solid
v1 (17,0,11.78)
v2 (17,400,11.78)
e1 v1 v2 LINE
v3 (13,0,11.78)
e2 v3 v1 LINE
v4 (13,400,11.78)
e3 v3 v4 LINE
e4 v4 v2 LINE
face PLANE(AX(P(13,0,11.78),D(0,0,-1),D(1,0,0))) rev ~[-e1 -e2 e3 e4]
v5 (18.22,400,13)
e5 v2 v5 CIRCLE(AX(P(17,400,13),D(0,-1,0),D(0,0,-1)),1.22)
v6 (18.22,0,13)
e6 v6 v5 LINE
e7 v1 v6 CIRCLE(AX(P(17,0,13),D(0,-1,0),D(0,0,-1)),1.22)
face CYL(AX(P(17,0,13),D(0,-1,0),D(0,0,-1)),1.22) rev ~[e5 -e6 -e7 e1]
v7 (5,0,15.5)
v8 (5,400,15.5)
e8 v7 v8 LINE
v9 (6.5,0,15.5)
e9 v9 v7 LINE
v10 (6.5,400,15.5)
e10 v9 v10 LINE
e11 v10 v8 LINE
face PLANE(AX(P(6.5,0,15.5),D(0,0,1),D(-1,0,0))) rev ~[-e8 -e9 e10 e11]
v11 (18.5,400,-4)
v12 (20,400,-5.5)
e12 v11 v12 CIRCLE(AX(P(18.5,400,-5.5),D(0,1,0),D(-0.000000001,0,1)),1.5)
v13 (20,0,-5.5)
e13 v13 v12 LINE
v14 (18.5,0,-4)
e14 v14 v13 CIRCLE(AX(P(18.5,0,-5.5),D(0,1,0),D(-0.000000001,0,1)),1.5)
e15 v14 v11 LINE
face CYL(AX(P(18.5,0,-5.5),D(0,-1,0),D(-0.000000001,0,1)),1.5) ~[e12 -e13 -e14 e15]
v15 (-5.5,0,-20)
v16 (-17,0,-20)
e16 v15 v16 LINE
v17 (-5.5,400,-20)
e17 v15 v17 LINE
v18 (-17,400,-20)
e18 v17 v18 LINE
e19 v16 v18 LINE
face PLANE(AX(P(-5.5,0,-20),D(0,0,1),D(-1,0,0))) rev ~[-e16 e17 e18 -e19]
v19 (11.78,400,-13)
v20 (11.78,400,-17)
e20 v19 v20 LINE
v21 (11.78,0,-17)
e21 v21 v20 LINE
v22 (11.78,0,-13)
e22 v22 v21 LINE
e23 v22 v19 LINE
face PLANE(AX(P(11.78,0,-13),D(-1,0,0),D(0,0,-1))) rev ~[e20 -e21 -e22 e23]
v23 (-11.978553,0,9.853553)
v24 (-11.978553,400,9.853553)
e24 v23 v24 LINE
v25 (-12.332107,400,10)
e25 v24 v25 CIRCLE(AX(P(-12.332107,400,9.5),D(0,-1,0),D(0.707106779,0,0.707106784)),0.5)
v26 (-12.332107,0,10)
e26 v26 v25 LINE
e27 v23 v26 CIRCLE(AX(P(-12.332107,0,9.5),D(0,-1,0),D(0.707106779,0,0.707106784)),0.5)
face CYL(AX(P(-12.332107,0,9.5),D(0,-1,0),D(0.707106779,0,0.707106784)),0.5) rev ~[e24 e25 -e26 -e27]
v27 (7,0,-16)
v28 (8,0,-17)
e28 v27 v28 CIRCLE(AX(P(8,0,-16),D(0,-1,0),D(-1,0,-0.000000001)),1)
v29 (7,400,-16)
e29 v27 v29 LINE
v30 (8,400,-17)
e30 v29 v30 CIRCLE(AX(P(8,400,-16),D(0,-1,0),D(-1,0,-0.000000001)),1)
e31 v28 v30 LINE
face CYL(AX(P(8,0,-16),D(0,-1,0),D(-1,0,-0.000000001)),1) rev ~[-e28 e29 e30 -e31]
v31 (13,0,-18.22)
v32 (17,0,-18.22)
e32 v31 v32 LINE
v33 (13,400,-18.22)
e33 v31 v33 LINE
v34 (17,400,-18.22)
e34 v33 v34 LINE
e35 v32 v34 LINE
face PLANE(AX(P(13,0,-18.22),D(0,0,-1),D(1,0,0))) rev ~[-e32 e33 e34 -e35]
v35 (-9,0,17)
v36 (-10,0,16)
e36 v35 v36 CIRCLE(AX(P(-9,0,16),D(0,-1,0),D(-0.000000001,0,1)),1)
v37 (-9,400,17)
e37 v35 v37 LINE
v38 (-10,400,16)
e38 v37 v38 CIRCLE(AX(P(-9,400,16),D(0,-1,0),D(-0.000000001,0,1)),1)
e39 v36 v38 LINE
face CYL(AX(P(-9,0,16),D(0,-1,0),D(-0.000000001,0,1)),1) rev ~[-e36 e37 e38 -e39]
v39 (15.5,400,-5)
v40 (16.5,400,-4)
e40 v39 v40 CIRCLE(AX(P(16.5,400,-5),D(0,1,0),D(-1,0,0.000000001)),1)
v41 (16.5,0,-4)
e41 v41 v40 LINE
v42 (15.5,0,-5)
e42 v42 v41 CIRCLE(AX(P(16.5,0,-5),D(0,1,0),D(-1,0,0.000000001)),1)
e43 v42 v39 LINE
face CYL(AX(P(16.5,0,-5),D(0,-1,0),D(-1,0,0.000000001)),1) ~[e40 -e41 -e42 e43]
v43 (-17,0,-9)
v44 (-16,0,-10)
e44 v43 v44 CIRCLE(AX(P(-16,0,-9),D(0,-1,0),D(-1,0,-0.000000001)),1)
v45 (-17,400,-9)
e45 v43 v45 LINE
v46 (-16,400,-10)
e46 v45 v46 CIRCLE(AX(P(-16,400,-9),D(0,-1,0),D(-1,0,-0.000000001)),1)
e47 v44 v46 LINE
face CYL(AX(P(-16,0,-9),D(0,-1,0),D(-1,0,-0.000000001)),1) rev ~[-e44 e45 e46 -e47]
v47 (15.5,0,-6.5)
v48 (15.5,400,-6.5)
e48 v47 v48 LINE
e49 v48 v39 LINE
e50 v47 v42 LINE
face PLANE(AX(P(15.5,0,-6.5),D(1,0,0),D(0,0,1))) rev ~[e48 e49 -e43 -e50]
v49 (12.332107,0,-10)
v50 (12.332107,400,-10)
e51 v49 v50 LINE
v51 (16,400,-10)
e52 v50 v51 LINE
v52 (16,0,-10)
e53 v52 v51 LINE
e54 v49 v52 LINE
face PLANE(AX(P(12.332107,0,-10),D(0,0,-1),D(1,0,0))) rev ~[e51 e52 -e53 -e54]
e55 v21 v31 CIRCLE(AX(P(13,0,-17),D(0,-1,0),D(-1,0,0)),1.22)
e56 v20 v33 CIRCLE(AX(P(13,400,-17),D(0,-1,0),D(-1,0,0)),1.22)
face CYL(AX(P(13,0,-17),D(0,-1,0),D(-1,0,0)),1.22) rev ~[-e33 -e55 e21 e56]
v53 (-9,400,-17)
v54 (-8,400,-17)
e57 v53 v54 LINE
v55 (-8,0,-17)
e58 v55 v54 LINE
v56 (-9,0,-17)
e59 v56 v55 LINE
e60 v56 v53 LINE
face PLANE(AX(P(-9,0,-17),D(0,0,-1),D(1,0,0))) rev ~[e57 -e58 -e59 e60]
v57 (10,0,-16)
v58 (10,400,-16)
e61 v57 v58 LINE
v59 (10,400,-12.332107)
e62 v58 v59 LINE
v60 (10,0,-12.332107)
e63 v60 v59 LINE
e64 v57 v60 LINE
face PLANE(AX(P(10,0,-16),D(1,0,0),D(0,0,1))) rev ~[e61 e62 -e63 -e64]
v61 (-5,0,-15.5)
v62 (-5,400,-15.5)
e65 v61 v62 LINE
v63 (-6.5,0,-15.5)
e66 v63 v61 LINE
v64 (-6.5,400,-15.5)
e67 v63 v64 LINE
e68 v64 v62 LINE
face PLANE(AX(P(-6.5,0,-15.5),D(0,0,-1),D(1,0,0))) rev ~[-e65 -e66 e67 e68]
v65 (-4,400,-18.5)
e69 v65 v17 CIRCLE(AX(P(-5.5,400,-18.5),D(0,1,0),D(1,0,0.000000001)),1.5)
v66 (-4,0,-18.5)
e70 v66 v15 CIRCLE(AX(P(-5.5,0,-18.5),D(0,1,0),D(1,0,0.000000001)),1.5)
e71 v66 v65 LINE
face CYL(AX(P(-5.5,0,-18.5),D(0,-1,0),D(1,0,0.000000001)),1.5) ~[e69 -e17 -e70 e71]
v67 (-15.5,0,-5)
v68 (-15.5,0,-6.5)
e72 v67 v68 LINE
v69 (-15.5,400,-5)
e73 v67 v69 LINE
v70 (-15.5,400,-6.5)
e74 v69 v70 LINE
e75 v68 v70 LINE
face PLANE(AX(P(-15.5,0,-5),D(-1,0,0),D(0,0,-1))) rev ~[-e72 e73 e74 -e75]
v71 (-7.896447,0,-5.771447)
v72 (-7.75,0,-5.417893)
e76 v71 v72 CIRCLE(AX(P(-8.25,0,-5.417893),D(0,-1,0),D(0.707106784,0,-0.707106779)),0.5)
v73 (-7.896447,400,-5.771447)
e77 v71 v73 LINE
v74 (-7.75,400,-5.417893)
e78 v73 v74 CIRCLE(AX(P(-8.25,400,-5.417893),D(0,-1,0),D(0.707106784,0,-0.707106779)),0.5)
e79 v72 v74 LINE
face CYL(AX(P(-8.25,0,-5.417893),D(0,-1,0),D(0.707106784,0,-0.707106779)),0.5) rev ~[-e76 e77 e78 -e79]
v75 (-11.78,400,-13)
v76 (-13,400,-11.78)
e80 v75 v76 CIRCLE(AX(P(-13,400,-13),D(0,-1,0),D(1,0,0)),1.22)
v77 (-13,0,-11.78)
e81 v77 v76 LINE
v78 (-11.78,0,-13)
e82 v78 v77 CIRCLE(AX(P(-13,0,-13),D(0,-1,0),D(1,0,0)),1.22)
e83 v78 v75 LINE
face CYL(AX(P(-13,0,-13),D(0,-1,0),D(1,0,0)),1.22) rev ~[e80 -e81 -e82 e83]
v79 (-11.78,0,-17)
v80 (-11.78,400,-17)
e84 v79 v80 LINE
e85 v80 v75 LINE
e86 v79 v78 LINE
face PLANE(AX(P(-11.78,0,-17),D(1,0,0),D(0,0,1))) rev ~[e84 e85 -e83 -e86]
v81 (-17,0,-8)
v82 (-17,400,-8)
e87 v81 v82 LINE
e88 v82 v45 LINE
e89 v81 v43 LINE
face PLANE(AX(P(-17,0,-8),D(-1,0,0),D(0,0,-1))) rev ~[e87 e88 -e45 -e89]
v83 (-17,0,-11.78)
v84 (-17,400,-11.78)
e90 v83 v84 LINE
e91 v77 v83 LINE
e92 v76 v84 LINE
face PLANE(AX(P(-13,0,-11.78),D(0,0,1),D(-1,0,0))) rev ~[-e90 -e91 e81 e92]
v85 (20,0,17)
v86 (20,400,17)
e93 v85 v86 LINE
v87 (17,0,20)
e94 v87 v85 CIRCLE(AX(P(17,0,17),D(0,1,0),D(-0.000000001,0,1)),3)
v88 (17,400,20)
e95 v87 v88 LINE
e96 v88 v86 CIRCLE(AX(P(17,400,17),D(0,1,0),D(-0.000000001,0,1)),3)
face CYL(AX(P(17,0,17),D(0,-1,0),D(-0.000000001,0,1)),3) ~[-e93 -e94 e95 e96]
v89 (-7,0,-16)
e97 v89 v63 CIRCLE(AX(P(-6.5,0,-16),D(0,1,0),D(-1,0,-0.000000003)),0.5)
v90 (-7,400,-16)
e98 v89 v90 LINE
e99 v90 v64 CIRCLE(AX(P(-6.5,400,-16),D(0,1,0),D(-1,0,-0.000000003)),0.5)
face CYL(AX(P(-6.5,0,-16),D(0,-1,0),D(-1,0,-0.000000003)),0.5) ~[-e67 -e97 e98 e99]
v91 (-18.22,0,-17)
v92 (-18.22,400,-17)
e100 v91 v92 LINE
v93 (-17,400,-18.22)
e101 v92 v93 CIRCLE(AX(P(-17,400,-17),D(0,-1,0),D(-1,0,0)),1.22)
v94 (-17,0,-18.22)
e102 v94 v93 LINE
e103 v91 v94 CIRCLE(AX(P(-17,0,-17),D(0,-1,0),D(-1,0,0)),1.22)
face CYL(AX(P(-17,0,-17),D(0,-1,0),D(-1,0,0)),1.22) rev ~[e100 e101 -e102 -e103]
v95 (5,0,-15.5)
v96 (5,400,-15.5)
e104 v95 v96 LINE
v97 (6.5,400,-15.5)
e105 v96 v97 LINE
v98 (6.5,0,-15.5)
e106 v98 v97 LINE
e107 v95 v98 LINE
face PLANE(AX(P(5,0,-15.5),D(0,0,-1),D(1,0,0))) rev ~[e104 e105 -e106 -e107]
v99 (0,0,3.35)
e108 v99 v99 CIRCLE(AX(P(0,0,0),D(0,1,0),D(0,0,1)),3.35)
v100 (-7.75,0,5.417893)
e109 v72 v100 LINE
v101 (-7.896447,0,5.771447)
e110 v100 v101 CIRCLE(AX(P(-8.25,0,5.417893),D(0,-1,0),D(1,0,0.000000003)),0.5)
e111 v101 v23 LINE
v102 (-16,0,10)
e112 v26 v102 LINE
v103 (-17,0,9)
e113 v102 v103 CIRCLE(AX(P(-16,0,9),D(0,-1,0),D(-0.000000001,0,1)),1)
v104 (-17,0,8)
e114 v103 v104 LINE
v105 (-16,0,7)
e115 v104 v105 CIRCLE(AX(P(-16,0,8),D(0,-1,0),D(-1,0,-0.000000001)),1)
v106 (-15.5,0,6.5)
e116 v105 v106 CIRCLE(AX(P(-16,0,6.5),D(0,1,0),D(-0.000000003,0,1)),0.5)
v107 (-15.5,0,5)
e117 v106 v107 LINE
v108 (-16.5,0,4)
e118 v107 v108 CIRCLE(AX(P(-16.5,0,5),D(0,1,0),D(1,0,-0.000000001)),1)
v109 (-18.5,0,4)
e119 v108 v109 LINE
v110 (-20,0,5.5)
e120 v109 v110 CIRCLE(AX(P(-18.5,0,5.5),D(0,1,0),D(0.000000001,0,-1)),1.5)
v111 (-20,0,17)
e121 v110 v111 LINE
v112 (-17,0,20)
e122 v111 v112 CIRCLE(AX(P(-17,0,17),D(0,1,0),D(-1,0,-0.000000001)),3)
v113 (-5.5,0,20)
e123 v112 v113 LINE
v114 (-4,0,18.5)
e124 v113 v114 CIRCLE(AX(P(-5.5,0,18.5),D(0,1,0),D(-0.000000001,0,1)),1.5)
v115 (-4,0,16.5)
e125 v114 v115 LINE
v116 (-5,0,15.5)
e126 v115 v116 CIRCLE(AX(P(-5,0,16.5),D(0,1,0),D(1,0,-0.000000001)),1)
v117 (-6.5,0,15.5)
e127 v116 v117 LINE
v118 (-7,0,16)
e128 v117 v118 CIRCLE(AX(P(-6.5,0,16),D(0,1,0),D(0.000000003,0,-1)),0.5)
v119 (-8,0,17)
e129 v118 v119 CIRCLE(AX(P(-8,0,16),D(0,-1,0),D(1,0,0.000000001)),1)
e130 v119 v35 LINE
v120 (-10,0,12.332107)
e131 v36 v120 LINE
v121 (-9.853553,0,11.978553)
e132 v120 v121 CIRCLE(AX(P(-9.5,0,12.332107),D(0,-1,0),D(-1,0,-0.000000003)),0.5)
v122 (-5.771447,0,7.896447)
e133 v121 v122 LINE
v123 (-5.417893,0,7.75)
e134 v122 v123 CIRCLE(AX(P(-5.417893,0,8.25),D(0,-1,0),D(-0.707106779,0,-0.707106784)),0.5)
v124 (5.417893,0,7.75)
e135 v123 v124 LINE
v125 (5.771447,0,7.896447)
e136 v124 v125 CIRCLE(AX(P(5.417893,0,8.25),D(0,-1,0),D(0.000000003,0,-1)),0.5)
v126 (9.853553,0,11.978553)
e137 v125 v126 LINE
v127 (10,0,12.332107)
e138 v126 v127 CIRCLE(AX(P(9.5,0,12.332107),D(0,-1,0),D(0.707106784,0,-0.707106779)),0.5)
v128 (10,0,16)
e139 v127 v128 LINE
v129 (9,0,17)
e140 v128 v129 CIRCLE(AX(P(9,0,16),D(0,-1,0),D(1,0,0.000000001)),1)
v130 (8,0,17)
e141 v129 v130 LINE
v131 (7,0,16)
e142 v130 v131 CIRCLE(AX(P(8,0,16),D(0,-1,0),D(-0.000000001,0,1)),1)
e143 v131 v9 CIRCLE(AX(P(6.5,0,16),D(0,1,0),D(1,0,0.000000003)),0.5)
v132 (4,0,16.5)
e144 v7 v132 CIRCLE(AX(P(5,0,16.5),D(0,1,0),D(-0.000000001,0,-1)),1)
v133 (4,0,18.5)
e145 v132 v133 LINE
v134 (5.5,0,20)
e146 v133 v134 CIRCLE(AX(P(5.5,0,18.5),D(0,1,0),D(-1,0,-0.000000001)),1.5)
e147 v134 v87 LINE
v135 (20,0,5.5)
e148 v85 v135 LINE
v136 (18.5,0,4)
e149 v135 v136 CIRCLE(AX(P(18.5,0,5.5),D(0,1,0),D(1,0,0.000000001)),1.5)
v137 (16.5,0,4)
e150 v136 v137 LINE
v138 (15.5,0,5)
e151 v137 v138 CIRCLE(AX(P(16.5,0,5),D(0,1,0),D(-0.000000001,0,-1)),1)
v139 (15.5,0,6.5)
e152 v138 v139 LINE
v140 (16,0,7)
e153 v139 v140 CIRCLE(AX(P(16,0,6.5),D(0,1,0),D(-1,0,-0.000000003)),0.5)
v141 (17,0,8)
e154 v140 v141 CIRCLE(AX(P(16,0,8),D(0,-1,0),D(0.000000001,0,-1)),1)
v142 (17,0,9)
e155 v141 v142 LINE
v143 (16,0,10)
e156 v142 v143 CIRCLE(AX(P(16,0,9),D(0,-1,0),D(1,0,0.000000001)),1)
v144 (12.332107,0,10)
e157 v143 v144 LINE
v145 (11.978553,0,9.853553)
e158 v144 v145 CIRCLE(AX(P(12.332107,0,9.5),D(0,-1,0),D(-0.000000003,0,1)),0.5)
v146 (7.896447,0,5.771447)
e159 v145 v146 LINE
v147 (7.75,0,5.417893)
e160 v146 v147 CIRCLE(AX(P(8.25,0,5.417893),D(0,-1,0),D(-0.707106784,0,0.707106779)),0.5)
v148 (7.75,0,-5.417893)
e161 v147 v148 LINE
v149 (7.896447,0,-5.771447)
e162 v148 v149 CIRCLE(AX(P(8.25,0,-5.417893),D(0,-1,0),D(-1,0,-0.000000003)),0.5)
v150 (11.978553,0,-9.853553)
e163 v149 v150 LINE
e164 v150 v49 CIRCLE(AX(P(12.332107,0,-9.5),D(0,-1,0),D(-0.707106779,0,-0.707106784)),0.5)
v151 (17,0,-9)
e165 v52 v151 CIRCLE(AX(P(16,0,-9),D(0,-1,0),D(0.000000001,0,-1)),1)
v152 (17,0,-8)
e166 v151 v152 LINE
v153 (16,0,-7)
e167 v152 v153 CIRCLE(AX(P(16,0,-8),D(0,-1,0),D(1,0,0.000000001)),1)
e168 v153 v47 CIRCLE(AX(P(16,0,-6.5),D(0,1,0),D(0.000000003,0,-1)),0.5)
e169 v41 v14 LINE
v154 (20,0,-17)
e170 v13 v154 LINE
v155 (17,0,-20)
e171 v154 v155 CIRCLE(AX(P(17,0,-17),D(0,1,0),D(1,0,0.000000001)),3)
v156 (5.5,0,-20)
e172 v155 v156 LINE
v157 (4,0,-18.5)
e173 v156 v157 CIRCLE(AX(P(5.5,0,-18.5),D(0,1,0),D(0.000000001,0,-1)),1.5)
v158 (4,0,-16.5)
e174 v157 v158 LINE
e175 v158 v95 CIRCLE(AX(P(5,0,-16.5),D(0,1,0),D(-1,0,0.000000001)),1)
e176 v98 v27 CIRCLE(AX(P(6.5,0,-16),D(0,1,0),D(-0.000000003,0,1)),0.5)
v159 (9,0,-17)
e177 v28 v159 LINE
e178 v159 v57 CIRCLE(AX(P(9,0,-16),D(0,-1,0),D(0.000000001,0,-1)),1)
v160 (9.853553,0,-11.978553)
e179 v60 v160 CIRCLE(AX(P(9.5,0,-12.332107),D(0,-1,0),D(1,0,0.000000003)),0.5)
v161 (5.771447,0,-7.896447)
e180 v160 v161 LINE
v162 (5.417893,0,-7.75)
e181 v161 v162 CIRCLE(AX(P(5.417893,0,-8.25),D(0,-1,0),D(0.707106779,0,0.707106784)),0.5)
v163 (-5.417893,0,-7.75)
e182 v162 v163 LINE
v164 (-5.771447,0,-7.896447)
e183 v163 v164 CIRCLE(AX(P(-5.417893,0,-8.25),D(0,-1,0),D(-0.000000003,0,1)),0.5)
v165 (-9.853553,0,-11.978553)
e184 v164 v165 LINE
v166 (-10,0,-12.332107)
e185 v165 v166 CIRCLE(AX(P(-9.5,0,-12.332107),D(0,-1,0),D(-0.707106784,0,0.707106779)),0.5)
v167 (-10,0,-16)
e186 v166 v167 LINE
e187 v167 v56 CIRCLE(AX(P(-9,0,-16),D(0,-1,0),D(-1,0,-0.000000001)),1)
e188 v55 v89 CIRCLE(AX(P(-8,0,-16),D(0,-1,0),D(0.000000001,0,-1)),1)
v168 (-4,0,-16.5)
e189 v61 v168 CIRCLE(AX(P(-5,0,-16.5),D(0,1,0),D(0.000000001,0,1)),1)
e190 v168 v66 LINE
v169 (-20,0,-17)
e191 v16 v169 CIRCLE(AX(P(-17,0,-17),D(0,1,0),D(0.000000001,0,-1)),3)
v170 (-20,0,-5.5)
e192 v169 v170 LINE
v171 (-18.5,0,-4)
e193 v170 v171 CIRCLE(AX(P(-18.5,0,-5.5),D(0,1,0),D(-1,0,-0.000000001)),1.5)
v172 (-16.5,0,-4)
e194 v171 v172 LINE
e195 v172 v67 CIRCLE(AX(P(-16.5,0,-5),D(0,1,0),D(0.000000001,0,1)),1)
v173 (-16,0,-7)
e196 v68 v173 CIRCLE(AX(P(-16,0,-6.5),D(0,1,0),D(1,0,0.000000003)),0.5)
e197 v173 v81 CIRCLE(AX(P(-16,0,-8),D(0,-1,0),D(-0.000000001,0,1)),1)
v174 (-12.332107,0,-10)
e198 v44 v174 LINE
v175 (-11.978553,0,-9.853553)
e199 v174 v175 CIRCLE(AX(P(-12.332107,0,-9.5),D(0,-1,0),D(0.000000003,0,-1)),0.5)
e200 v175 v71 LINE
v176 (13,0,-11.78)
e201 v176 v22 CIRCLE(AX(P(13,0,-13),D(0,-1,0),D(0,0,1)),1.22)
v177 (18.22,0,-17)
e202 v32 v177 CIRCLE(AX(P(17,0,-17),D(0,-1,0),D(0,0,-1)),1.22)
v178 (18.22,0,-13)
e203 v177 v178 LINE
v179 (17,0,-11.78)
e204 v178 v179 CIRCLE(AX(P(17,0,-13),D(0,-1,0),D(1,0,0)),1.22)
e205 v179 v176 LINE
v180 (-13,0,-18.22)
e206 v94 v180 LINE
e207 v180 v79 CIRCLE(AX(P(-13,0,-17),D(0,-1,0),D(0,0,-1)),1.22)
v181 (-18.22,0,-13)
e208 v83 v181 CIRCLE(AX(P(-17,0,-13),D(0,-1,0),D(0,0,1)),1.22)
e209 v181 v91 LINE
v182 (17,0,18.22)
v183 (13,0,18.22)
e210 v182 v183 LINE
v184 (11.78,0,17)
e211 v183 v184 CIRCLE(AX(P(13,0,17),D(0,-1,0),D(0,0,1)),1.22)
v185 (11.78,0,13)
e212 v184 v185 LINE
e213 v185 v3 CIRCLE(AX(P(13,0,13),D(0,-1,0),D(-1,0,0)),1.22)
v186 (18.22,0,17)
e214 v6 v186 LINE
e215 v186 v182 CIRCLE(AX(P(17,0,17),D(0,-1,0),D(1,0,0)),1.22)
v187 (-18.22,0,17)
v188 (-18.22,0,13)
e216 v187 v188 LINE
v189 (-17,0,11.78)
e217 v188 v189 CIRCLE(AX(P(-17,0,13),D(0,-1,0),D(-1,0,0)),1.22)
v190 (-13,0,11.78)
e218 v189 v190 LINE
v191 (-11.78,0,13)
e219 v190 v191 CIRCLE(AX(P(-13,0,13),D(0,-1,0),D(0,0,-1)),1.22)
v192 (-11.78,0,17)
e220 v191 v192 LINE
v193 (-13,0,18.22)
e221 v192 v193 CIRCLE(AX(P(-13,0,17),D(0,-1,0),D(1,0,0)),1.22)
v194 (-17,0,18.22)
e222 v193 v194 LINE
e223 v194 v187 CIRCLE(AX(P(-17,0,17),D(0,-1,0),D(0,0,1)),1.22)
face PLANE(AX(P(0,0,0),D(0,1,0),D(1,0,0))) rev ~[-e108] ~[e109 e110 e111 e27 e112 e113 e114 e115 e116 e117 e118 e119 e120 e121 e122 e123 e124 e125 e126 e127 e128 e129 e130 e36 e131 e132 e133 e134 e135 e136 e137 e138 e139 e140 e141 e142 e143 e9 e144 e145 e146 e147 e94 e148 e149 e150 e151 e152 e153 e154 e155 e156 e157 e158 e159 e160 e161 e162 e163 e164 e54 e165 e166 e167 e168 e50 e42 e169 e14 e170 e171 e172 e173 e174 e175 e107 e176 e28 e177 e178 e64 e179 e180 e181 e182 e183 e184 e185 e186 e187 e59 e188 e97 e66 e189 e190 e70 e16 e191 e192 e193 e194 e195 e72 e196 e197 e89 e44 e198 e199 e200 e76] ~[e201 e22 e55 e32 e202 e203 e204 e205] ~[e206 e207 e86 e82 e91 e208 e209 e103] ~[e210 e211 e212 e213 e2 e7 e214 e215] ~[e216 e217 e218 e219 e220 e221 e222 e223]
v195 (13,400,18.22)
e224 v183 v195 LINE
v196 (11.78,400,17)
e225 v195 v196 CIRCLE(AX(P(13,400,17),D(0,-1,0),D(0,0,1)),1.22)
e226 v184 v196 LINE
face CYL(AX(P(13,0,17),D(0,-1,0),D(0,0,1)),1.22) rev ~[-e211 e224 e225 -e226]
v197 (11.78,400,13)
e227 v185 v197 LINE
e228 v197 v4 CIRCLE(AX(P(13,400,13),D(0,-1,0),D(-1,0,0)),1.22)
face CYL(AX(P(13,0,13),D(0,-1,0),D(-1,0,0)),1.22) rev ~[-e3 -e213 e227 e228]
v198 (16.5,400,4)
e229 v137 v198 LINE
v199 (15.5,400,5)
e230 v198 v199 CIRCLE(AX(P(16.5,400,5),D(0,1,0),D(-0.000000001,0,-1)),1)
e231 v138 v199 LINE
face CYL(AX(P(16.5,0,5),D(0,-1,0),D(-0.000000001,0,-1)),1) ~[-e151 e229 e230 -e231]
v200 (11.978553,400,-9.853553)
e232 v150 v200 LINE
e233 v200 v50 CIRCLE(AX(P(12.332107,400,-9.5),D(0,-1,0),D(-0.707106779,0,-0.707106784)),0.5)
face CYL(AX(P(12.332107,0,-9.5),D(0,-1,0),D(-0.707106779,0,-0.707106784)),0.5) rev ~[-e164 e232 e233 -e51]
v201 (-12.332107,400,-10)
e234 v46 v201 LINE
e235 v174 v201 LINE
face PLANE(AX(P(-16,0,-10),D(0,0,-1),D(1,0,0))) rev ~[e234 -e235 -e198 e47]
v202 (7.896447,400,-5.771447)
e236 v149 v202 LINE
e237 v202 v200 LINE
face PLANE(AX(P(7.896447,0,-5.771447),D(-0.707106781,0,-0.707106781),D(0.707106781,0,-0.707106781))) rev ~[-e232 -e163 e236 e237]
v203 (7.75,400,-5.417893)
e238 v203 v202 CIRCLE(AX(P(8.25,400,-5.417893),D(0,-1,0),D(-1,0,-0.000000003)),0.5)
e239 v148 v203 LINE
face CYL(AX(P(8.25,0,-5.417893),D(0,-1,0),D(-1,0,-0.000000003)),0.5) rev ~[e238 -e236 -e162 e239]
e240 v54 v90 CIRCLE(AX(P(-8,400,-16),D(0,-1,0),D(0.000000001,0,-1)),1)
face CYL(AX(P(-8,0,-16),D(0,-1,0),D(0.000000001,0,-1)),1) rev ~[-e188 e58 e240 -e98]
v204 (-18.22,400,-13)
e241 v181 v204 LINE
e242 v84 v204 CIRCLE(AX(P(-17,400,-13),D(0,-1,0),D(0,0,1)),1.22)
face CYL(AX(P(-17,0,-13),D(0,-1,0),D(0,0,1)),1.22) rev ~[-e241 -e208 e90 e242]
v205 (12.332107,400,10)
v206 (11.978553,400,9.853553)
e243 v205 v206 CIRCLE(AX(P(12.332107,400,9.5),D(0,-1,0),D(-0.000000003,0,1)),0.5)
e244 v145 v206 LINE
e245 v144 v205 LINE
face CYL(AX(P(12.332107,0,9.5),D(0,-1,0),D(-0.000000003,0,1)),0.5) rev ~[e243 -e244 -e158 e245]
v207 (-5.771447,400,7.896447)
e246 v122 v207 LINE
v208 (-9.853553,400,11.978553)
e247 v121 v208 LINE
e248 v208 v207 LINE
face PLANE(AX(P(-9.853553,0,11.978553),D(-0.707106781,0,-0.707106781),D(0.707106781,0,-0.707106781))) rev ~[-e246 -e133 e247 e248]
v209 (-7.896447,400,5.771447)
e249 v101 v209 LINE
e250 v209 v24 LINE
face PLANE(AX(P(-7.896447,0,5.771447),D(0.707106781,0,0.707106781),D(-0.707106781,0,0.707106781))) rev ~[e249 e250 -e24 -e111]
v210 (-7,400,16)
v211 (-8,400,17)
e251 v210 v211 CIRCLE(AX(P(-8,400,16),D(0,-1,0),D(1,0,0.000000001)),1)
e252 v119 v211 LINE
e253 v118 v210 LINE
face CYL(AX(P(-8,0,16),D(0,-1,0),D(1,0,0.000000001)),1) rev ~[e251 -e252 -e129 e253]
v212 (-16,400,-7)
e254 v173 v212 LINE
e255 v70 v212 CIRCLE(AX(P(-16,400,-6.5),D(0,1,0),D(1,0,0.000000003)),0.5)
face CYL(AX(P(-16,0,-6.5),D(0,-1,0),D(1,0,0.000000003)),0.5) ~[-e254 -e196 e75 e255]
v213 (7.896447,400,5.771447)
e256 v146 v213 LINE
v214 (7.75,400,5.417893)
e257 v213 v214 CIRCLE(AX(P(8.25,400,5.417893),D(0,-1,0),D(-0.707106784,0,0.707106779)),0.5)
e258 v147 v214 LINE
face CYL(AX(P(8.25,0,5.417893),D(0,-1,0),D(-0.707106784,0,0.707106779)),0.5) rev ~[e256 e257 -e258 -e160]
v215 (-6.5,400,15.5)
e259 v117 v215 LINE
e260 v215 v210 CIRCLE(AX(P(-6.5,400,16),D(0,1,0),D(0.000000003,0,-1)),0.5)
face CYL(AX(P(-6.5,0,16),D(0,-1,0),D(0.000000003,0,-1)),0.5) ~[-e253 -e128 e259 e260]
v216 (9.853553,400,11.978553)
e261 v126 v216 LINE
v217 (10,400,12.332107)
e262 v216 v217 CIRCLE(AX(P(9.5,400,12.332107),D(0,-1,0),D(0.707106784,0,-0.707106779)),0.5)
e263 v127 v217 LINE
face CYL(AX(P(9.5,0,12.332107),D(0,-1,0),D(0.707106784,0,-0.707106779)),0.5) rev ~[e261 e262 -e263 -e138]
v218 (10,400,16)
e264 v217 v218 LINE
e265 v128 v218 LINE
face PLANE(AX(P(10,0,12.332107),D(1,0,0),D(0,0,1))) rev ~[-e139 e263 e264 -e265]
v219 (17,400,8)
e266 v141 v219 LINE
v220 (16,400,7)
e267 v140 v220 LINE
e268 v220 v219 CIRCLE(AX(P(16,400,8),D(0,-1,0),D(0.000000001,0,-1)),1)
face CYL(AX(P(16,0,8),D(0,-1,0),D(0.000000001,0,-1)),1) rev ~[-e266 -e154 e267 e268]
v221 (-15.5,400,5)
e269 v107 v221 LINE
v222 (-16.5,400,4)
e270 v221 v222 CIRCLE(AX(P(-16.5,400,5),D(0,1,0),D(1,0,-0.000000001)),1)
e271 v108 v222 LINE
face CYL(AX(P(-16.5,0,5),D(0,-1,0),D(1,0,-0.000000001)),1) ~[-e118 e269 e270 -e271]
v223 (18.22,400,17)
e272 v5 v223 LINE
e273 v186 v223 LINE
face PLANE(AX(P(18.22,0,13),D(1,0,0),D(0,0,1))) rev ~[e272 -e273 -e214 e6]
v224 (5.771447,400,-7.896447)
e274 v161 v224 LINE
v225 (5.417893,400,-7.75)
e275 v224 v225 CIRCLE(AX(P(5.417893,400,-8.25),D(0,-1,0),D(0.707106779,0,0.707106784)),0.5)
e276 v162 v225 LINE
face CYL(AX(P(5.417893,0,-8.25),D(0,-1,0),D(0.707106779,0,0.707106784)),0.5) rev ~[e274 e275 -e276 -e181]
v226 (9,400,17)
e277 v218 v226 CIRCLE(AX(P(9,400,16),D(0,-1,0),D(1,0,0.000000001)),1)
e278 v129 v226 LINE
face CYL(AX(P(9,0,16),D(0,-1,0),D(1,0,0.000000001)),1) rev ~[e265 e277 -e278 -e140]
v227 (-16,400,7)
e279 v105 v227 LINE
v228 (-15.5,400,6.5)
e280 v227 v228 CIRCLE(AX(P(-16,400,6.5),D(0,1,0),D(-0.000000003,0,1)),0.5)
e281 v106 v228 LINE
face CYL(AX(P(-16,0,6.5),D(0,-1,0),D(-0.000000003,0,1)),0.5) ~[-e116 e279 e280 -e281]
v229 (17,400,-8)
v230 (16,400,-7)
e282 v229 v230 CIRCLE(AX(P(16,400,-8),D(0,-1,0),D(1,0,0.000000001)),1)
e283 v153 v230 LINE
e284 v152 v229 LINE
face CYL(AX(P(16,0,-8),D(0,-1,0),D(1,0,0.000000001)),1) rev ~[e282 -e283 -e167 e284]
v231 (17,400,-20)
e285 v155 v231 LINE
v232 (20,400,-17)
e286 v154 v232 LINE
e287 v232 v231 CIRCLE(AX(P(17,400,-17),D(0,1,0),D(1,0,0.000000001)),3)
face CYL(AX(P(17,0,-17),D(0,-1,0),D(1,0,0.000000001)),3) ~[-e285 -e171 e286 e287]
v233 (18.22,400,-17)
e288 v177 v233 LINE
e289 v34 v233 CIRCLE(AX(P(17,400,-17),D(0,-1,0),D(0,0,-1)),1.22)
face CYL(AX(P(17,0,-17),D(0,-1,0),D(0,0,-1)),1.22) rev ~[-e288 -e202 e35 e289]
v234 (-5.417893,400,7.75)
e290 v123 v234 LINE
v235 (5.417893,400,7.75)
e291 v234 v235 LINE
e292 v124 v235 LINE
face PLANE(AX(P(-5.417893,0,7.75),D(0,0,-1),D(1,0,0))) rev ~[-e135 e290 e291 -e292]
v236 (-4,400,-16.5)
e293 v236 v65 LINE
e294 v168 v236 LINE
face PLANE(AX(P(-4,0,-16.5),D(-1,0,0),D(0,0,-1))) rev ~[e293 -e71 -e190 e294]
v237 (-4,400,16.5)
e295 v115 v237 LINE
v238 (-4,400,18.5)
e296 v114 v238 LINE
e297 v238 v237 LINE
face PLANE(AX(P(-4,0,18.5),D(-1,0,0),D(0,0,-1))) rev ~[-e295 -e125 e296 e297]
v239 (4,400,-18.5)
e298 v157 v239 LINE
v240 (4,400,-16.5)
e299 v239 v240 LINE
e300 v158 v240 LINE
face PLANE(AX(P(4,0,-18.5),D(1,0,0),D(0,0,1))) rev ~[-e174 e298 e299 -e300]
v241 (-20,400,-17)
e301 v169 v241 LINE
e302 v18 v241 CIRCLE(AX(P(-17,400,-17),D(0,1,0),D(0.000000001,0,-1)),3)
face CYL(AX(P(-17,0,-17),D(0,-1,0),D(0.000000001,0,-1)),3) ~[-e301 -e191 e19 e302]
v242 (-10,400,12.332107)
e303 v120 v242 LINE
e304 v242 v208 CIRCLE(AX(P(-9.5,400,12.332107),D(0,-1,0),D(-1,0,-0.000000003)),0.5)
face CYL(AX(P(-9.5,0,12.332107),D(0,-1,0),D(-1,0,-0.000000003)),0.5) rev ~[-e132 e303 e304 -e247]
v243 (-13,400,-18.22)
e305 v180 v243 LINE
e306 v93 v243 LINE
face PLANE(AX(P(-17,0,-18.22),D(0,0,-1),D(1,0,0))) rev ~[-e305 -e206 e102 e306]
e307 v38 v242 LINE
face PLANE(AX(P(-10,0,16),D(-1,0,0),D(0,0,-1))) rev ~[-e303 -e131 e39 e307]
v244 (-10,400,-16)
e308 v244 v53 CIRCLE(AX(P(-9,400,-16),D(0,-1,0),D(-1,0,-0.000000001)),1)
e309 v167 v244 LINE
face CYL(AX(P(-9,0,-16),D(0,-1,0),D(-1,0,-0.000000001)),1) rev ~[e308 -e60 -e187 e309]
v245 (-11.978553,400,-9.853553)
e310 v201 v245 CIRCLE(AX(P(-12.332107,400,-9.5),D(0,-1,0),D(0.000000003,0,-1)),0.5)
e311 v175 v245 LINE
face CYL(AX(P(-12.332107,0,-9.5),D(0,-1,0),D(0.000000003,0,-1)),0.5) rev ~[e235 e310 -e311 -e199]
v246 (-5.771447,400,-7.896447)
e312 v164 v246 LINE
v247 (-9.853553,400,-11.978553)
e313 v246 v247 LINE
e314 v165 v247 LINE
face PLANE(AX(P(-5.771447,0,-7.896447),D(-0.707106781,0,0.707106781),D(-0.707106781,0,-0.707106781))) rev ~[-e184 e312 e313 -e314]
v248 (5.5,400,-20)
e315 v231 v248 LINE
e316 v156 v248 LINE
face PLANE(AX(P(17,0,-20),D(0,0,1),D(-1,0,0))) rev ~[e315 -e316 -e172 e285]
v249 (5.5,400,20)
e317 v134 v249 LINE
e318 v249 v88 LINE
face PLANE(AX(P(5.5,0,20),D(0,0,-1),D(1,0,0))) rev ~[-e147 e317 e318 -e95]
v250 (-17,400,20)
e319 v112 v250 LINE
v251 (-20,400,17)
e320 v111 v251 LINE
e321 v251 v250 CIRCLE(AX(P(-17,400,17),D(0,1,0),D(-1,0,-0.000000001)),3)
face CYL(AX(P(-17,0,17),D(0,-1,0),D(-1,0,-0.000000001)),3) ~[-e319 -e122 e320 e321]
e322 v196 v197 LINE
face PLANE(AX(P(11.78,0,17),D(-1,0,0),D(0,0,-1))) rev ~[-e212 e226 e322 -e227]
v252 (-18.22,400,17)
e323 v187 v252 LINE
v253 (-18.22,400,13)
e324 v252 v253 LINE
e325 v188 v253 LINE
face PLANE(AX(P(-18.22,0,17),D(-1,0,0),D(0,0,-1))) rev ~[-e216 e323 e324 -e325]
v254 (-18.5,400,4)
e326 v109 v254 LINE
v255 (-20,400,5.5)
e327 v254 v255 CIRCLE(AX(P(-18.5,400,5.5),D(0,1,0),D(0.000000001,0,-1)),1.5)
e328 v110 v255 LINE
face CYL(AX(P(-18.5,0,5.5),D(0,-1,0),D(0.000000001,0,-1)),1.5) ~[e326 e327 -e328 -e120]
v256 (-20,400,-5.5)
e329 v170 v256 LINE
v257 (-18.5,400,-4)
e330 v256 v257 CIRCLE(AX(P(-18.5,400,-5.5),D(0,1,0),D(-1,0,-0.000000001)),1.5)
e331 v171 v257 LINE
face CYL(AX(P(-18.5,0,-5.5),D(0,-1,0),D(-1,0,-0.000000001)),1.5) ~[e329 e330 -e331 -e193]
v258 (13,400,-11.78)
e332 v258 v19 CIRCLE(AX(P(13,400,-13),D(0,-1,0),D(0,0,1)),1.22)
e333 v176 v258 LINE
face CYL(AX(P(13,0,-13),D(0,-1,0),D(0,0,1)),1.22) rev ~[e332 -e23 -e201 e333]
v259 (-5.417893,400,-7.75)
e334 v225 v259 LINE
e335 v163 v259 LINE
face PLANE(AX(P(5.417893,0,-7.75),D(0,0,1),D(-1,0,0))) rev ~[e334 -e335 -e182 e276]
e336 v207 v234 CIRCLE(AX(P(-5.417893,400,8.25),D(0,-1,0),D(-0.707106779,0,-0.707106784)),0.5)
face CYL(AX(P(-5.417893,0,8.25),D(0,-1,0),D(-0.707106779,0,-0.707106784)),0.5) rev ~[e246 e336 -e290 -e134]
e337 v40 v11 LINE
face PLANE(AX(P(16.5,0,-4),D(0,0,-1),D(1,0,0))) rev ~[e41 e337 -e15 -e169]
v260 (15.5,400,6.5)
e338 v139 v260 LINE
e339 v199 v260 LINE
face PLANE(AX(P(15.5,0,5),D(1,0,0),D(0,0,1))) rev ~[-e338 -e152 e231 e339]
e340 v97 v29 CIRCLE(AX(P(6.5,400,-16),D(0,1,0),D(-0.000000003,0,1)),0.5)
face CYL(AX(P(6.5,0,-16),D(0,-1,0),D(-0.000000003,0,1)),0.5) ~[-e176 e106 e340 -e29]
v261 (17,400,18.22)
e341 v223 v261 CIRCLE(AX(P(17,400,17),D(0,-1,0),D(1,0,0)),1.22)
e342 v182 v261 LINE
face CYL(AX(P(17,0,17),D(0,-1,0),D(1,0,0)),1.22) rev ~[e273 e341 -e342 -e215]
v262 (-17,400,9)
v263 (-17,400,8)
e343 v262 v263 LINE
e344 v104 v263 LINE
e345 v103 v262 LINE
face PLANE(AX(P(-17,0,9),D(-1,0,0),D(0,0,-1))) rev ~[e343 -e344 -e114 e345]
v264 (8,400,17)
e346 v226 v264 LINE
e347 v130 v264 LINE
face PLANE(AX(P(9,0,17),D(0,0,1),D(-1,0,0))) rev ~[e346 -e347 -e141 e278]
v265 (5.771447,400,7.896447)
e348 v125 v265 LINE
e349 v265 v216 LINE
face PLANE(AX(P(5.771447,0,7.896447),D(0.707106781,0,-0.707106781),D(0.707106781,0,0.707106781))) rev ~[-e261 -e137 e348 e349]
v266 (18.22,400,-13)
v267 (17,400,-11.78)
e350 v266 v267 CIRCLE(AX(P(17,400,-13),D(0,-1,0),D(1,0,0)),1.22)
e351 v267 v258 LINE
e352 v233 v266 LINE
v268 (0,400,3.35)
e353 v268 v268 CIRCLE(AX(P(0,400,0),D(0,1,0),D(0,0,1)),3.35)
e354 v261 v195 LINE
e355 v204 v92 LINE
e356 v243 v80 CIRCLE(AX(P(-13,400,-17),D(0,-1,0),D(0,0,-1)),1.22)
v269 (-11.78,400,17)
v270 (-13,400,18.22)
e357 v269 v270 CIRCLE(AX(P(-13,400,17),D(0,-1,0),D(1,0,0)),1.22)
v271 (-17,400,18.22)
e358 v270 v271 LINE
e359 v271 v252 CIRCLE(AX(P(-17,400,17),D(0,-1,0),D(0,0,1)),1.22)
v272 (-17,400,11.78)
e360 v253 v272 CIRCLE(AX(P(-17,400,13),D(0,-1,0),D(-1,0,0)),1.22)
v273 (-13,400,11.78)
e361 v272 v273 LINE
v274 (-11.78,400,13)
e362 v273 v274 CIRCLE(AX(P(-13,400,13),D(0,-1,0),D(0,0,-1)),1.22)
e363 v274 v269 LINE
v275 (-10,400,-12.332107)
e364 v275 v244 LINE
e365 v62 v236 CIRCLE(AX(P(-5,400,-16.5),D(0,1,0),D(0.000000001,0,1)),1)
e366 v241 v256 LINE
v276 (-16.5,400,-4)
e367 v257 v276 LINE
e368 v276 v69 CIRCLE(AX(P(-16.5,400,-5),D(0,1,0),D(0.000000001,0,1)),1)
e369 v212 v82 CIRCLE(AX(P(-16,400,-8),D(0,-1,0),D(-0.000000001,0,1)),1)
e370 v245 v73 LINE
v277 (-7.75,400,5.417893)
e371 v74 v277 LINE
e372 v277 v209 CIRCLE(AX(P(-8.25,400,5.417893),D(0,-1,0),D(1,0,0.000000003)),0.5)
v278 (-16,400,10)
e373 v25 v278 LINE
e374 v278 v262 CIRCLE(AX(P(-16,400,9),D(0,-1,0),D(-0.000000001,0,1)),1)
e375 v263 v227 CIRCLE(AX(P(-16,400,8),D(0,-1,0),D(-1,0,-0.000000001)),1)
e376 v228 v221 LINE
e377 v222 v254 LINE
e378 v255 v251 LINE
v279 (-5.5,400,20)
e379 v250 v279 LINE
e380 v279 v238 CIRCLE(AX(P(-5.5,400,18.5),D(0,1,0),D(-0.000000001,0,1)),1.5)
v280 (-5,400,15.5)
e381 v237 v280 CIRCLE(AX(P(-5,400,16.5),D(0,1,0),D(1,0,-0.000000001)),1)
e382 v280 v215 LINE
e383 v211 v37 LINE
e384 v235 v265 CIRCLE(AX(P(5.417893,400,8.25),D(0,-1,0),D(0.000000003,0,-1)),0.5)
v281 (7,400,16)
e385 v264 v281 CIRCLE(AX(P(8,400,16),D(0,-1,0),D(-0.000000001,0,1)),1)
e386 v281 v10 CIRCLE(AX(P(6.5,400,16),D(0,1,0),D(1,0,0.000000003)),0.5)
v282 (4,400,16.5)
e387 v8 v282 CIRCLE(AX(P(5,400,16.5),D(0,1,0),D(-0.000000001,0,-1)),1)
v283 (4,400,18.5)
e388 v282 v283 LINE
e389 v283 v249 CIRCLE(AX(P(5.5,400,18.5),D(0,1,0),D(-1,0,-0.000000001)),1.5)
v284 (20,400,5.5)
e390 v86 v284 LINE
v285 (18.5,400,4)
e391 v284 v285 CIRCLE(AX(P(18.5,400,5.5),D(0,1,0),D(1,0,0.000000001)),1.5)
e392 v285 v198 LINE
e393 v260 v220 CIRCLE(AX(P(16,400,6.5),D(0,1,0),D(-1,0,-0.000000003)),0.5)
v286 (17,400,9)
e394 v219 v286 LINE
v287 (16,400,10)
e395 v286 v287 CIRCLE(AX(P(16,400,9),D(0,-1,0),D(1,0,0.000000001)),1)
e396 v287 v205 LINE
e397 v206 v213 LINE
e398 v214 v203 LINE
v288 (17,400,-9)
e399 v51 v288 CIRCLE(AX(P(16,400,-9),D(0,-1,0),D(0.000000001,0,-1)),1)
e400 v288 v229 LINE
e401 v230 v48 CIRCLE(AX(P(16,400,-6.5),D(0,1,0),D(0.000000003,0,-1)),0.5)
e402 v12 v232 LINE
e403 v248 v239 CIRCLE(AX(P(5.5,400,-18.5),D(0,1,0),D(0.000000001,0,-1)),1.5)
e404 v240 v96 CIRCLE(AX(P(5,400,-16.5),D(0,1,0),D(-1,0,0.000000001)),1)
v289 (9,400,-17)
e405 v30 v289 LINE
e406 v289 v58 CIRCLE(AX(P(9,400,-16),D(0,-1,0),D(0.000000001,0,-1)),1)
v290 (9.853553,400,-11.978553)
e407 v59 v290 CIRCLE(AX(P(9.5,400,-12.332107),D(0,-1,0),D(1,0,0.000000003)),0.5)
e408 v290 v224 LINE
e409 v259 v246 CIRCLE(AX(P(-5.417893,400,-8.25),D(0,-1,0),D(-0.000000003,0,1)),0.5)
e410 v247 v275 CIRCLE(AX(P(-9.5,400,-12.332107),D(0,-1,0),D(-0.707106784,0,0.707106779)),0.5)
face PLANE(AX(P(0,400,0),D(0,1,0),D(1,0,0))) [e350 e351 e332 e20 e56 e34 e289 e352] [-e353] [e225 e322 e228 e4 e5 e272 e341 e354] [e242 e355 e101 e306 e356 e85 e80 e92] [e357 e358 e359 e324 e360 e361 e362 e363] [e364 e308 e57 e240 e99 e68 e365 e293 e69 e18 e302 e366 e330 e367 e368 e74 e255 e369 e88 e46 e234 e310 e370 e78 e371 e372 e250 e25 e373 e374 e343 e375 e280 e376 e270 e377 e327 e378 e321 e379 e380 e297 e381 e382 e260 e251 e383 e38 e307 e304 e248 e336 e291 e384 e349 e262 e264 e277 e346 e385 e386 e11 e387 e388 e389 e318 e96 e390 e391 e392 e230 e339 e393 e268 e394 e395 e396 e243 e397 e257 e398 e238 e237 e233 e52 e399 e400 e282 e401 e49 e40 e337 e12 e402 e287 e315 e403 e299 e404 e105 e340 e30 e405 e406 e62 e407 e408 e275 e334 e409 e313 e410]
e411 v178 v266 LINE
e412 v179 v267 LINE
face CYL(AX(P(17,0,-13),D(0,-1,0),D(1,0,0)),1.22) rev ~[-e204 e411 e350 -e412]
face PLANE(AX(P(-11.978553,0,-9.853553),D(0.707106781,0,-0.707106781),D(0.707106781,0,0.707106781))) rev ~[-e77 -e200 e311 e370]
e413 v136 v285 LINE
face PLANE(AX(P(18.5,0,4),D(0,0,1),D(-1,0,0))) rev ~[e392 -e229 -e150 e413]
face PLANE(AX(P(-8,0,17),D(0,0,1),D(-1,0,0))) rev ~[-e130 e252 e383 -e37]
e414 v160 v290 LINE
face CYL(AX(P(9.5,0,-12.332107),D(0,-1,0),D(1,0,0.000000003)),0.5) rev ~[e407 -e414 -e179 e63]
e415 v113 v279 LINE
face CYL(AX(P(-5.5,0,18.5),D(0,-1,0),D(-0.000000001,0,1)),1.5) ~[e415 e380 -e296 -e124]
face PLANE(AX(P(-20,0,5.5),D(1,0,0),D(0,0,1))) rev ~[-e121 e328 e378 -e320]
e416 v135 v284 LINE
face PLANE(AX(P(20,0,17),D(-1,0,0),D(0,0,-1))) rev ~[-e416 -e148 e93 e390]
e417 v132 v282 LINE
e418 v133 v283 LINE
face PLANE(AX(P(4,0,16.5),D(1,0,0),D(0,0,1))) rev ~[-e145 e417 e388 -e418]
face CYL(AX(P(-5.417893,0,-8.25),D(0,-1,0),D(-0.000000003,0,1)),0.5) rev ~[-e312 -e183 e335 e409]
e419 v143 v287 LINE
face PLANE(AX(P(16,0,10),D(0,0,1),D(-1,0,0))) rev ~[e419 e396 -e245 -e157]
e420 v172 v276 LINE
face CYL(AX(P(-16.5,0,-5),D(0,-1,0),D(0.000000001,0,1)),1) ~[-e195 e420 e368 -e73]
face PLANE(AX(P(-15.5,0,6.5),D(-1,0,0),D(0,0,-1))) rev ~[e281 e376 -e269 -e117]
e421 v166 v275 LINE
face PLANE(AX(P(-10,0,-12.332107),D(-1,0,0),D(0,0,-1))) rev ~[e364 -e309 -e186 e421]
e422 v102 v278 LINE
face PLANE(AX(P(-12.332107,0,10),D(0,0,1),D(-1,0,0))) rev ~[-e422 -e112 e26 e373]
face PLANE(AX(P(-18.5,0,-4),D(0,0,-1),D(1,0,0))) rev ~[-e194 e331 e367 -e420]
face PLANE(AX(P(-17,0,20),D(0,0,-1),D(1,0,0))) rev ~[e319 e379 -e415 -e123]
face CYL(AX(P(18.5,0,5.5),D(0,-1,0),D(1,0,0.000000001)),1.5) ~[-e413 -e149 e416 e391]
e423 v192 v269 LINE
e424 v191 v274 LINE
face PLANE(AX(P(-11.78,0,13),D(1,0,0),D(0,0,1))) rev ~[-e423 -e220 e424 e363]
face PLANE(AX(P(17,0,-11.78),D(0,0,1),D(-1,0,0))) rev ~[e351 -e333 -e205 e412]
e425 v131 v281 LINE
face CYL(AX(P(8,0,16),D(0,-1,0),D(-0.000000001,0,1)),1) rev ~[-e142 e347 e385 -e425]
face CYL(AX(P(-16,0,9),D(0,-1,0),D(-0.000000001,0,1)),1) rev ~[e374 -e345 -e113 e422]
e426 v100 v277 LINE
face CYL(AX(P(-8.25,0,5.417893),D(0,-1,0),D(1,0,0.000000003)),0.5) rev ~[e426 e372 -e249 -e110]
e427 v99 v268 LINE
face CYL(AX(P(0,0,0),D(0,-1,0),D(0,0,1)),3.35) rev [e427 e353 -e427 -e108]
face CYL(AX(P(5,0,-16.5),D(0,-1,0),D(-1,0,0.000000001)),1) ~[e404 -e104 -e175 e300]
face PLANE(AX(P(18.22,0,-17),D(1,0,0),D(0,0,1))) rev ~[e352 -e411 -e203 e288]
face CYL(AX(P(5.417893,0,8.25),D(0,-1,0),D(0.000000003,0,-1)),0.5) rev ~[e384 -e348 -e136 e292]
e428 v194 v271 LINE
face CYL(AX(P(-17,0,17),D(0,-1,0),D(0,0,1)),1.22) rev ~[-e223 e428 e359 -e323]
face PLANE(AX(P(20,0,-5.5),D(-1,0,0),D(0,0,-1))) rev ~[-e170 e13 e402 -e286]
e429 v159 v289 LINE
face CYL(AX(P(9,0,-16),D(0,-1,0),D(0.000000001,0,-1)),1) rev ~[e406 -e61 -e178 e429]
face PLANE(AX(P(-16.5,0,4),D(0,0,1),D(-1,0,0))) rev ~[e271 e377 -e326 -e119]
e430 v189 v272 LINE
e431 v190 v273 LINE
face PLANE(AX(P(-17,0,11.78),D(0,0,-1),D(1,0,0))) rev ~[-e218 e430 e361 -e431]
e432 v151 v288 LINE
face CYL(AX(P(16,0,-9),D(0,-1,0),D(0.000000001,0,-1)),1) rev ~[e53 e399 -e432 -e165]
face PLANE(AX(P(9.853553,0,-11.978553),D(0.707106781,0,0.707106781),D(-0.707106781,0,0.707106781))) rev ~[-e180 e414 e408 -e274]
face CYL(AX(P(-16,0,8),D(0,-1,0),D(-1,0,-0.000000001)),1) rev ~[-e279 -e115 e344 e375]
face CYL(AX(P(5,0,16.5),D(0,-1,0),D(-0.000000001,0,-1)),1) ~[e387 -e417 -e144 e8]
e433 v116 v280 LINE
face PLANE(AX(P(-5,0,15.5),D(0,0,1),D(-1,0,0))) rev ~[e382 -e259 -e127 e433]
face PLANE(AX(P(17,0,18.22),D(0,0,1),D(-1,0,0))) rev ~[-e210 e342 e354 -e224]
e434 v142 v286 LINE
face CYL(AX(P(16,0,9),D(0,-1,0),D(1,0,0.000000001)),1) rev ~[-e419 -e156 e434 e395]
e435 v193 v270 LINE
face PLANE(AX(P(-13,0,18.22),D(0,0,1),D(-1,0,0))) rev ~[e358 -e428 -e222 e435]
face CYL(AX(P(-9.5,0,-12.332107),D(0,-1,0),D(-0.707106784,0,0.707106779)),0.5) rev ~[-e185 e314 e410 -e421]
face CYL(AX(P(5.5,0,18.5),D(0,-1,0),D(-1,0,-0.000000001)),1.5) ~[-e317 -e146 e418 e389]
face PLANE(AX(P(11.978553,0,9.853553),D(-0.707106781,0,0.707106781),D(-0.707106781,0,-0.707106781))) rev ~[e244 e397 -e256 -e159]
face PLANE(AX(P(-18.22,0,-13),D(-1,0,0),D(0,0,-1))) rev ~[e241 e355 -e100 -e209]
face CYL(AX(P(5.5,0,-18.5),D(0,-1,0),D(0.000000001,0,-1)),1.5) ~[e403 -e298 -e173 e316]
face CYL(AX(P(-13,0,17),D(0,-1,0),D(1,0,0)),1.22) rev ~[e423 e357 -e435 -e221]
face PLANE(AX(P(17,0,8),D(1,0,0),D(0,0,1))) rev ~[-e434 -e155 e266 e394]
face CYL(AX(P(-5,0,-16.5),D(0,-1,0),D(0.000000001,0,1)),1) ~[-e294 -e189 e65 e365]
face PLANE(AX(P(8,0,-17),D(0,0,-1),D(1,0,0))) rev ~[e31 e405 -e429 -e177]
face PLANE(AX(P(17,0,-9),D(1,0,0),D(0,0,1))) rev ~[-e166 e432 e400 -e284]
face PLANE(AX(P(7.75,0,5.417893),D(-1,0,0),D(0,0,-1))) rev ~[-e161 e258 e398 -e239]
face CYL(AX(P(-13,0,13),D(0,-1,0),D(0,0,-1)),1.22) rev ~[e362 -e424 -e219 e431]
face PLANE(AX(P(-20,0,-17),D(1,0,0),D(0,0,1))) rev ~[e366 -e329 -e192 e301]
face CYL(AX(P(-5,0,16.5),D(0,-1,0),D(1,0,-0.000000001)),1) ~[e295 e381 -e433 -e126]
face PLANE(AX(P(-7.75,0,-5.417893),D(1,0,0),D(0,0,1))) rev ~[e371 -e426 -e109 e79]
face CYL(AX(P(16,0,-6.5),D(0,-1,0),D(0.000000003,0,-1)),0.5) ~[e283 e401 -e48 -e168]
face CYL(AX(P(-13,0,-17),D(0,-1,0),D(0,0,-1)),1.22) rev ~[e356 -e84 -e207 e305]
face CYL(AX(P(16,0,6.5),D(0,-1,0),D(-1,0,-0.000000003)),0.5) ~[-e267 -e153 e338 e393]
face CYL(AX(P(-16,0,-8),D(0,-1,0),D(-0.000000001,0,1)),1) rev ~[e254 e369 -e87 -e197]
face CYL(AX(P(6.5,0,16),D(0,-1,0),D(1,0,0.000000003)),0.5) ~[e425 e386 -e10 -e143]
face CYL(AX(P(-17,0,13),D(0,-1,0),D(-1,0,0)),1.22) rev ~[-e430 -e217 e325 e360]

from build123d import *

# Parameters (mm, degrees)
SKETCH1_R           = 3.35
BOSS_EXTRUDE1_DEPTH = 400


with BuildPart() as part:
    # Sketch1 → Boss-Extrude1 (new body)
    with BuildSketch(Plane(origin=(0, 0, 0), x_dir=(1, 0, 0), z_dir=(0, 1, 0))):
        with BuildLine():
            Line((-9.853553391, -11.978553391), (-5.771446609, -7.896446609))
            ThreePointArc((-5.771446609, -7.896446609), (-5.609234935, -7.788060234), (-5.417893219, -7.75))
            Line((-5.417893219, -7.75), (5.417893219, -7.75))
            ThreePointArc((5.417893219, -7.75), (5.609234935, -7.788060234), (5.771446609, -7.896446609))
            Line((5.771446609, -7.896446609), (9.853553391, -11.978553391))
            ThreePointArc((9.853553391, -11.978553391), (9.961939766, -12.140765065), (10, -12.332106781))
            Line((10, -12.332106781), (10, -16))
            ThreePointArc((10, -16), (9.707106781, -16.707106781), (9, -17))
            Line((9, -17), (8, -17))
            ThreePointArc((8, -17), (7.292893219, -16.707106781), (7, -16))
            ThreePointArc((7, -16), (6.853553391, -15.646446609), (6.5, -15.5))
            Line((6.5, -15.5), (5, -15.5))
            ThreePointArc((5, -15.5), (4.292893219, -15.792893219), (4, -16.5))
            Line((4, -16.5), (4, -18.5))
            ThreePointArc((4, -18.5), (4.439339828, -19.560660172), (5.5, -20))
            Line((5.5, -20), (17, -20))
            ThreePointArc((17, -20), (19.121320344, -19.121320344), (20, -17))
            Line((20, -17), (20, -5.5))
            ThreePointArc((20, -5.5), (19.560660172, -4.439339828), (18.5, -4))
            Line((18.5, -4), (16.5, -4))
            ThreePointArc((16.5, -4), (15.792893219, -4.292893219), (15.5, -5))
            Line((15.5, -5), (15.5, -6.5))
            ThreePointArc((15.5, -6.5), (15.646446609, -6.853553391), (16, -7))
            ThreePointArc((16, -7), (16.707106781, -7.292893219), (17, -8))
            Line((17, -8), (17, -9))
            ThreePointArc((17, -9), (16.707106781, -9.707106781), (16, -10))
            Line((16, -10), (12.332106781, -10))
            ThreePointArc((12.332106781, -10), (12.140765065, -9.961939766), (11.978553391, -9.853553391))
            Line((11.978553391, -9.853553391), (7.896446609, -5.771446609))
            ThreePointArc((7.896446609, -5.771446609), (7.788060234, -5.609234935), (7.75, -5.417893219))
            Line((7.75, -5.417893219), (7.75, 5.417893219))
            ThreePointArc((7.75, 5.417893219), (7.788060234, 5.609234935), (7.896446609, 5.771446609))
            Line((7.896446609, 5.771446609), (11.978553391, 9.853553391))
            ThreePointArc((11.978553391, 9.853553391), (12.140765065, 9.961939766), (12.332106781, 10))
            Line((12.332106781, 10), (16, 10))
            ThreePointArc((16, 10), (16.707106781, 9.707106781), (17, 9))
            Line((17, 9), (17, 8))
            ThreePointArc((17, 8), (16.707106781, 7.292893219), (16, 7))
            ThreePointArc((16, 7), (15.646446609, 6.853553391), (15.5, 6.5))
            Line((15.5, 6.5), (15.5, 5))
            ThreePointArc((15.5, 5), (15.792893219, 4.292893219), (16.5, 4))
            Line((16.5, 4), (18.5, 4))
            ThreePointArc((18.5, 4), (19.560660172, 4.439339828), (20, 5.5))
            Line((20, 5.5), (20, 17))
            ThreePointArc((20, 17), (19.121320344, 19.121320344), (17, 20))
            Line((17, 20), (5.5, 20))
            ThreePointArc((5.5, 20), (4.439339828, 19.560660172), (4, 18.5))
            Line((4, 18.5), (4, 16.5))
            ThreePointArc((4, 16.5), (4.292893219, 15.792893219), (5, 15.5))
            Line((5, 15.5), (6.5, 15.5))
            ThreePointArc((6.5, 15.5), (6.853553391, 15.646446609), (7, 16))
            ThreePointArc((7, 16), (7.292893219, 16.707106781), (8, 17))
            Line((8, 17), (9, 17))
            ThreePointArc((9, 17), (9.707106781, 16.707106781), (10, 16))
            Line((10, 16), (10, 12.332106781))
            ThreePointArc((10, 12.332106781), (9.961939766, 12.140765065), (9.853553391, 11.978553391))
            Line((9.853553391, 11.978553391), (5.771446609, 7.896446609))
            ThreePointArc((5.771446609, 7.896446609), (5.609234935, 7.788060234), (5.417893219, 7.75))
            Line((5.417893219, 7.75), (-5.417893219, 7.75))
            ThreePointArc((-5.417893219, 7.75), (-5.609234935, 7.788060234), (-5.771446609, 7.896446609))
            Line((-5.771446609, 7.896446609), (-9.853553391, 11.978553391))
            ThreePointArc((-9.853553391, 11.978553391), (-9.961939766, 12.140765065), (-10, 12.332106781))
            Line((-10, 12.332106781), (-10, 16))
            ThreePointArc((-10, 16), (-9.707106781, 16.707106781), (-9, 17))
            Line((-9, 17), (-8, 17))
            ThreePointArc((-8, 17), (-7.292893219, 16.707106781), (-7, 16))
            ThreePointArc((-7, 16), (-6.853553391, 15.646446609), (-6.5, 15.5))
            Line((-6.5, 15.5), (-5, 15.5))
            ThreePointArc((-5, 15.5), (-4.292893219, 15.792893219), (-4, 16.5))
            Line((-4, 16.5), (-4, 18.5))
            ThreePointArc((-4, 18.5), (-4.439339828, 19.560660172), (-5.5, 20))
            Line((-5.5, 20), (-17, 20))
            ThreePointArc((-17, 20), (-19.121320344, 19.121320344), (-20, 17))
            Line((-20, 17), (-20, 5.5))
            ThreePointArc((-20, 5.5), (-19.560660172, 4.439339828), (-18.5, 4))
            Line((-18.5, 4), (-16.5, 4))
            ThreePointArc((-16.5, 4), (-15.792893219, 4.292893219), (-15.5, 5))
            Line((-15.5, 5), (-15.5, 6.5))
            ThreePointArc((-15.5, 6.5), (-15.646446609, 6.853553391), (-16, 7))
            ThreePointArc((-16, 7), (-16.707106781, 7.292893219), (-17, 8))
            Line((-17, 8), (-17, 9))
            ThreePointArc((-17, 9), (-16.707106781, 9.707106781), (-16, 10))
            Line((-16, 10), (-12.332106781, 10))
            ThreePointArc((-12.332106781, 10), (-12.140765065, 9.961939766), (-11.978553391, 9.853553391))
            Line((-11.978553391, 9.853553391), (-7.896446609, 5.771446609))
            ThreePointArc((-7.896446609, 5.771446609), (-7.788060234, 5.609234935), (-7.75, 5.417893219))
            Line((-7.75, 5.417893219), (-7.75, -5.417893219))
            ThreePointArc((-7.75, -5.417893219), (-7.788060234, -5.609234935), (-7.896446609, -5.771446609))
            Line((-7.896446609, -5.771446609), (-11.978553391, -9.853553391))
            ThreePointArc((-11.978553391, -9.853553391), (-12.140765065, -9.961939766), (-12.332106781, -10))
            Line((-12.332106781, -10), (-16, -10))
            ThreePointArc((-16, -10), (-16.707106781, -9.707106781), (-17, -9))
            Line((-17, -9), (-17, -8))
            ThreePointArc((-17, -8), (-16.707106781, -7.292893219), (-16, -7))
            ThreePointArc((-16, -7), (-15.646446609, -6.853553391), (-15.5, -6.5))
            Line((-15.5, -6.5), (-15.5, -5))
            ThreePointArc((-15.5, -5), (-15.792893219, -4.292893219), (-16.5, -4))
            Line((-16.5, -4), (-18.5, -4))
            ThreePointArc((-18.5, -4), (-19.560660172, -4.439339828), (-20, -5.5))
            Line((-20, -5.5), (-20, -17))
            ThreePointArc((-20, -17), (-19.121320344, -19.121320344), (-17, -20))
            Line((-17, -20), (-5.5, -20))
            ThreePointArc((-5.5, -20), (-4.439339828, -19.560660172), (-4, -18.5))
            Line((-4, -18.5), (-4, -16.5))
            ThreePointArc((-4, -16.5), (-4.292893219, -15.792893219), (-5, -15.5))
            Line((-5, -15.5), (-6.5, -15.5))
            ThreePointArc((-6.5, -15.5), (-6.853553391, -15.646446609), (-7, -16))
            ThreePointArc((-7, -16), (-7.292893219, -16.707106781), (-8, -17))
            Line((-8, -17), (-9, -17))
            ThreePointArc((-9, -17), (-9.707106781, -16.707106781), (-10, -16))
            Line((-10, -16), (-10, -12.332106781))
            ThreePointArc((-10, -12.332106781), (-9.961939766, -12.140765065), (-9.853553391, -11.978553391))
        make_face()
        with Locations(Location((0, 0, 0), (0, 0, 270))):
            Circle(SKETCH1_R, mode=Mode.SUBTRACT)
        with BuildLine():
            Line((17, 11.78), (13, 11.78))
            ThreePointArc((13, 11.78), (12.137329727, 12.137329727), (11.78, 13))
            Line((11.78, 13), (11.78, 17))
            ThreePointArc((11.78, 17), (12.137329727, 17.862670273), (13, 18.22))
            Line((13, 18.22), (17, 18.22))
            ThreePointArc((17, 18.22), (17.862670273, 17.862670273), (18.22, 17))
            Line((18.22, 17), (18.22, 13))
            ThreePointArc((18.22, 13), (17.862670273, 12.137329727), (17, 11.78))
        make_face(mode=Mode.SUBTRACT)
        with BuildLine():
            Line((11.78, -17), (11.78, -13))
            ThreePointArc((11.78, -13), (12.137329727, -12.137329727), (13, -11.78))
            Line((13, -11.78), (17, -11.78))
            ThreePointArc((17, -11.78), (17.862670273, -12.137329727), (18.22, -13))
            Line((18.22, -13), (18.22, -17))
            ThreePointArc((18.22, -17), (17.862670273, -17.862670273), (17, -18.22))
            Line((17, -18.22), (13, -18.22))
            ThreePointArc((13, -18.22), (12.137329727, -17.862670273), (11.78, -17))
        make_face(mode=Mode.SUBTRACT)
        with BuildLine():
            Line((-17, -11.78), (-13, -11.78))
            ThreePointArc((-13, -11.78), (-12.137329727, -12.137329727), (-11.78, -13))
            Line((-11.78, -13), (-11.78, -17))
            ThreePointArc((-11.78, -17), (-12.137329727, -17.862670273), (-13, -18.22))
            Line((-13, -18.22), (-17, -18.22))
            ThreePointArc((-17, -18.22), (-17.862670273, -17.862670273), (-18.22, -17))
            Line((-18.22, -17), (-18.22, -13))
            ThreePointArc((-18.22, -13), (-17.862670273, -12.137329727), (-17, -11.78))
        make_face(mode=Mode.SUBTRACT)
        with BuildLine():
            Line((-18.22, 13), (-18.22, 17))
            ThreePointArc((-18.22, 17), (-17.862670273, 17.862670273), (-17, 18.22))
            Line((-17, 18.22), (-13, 18.22))
            ThreePointArc((-13, 18.22), (-12.137329727, 17.862670273), (-11.78, 17))
            Line((-11.78, 17), (-11.78, 13))
            ThreePointArc((-11.78, 13), (-12.137329727, 12.137329727), (-13, 11.78))
            Line((-13, 11.78), (-17, 11.78))
            ThreePointArc((-17, 11.78), (-17.862670273, 12.137329727), (-18.22, 13))
        make_face(mode=Mode.SUBTRACT)
    extrude(amount=BOSS_EXTRUDE1_DEPTH)


solid = part.part
